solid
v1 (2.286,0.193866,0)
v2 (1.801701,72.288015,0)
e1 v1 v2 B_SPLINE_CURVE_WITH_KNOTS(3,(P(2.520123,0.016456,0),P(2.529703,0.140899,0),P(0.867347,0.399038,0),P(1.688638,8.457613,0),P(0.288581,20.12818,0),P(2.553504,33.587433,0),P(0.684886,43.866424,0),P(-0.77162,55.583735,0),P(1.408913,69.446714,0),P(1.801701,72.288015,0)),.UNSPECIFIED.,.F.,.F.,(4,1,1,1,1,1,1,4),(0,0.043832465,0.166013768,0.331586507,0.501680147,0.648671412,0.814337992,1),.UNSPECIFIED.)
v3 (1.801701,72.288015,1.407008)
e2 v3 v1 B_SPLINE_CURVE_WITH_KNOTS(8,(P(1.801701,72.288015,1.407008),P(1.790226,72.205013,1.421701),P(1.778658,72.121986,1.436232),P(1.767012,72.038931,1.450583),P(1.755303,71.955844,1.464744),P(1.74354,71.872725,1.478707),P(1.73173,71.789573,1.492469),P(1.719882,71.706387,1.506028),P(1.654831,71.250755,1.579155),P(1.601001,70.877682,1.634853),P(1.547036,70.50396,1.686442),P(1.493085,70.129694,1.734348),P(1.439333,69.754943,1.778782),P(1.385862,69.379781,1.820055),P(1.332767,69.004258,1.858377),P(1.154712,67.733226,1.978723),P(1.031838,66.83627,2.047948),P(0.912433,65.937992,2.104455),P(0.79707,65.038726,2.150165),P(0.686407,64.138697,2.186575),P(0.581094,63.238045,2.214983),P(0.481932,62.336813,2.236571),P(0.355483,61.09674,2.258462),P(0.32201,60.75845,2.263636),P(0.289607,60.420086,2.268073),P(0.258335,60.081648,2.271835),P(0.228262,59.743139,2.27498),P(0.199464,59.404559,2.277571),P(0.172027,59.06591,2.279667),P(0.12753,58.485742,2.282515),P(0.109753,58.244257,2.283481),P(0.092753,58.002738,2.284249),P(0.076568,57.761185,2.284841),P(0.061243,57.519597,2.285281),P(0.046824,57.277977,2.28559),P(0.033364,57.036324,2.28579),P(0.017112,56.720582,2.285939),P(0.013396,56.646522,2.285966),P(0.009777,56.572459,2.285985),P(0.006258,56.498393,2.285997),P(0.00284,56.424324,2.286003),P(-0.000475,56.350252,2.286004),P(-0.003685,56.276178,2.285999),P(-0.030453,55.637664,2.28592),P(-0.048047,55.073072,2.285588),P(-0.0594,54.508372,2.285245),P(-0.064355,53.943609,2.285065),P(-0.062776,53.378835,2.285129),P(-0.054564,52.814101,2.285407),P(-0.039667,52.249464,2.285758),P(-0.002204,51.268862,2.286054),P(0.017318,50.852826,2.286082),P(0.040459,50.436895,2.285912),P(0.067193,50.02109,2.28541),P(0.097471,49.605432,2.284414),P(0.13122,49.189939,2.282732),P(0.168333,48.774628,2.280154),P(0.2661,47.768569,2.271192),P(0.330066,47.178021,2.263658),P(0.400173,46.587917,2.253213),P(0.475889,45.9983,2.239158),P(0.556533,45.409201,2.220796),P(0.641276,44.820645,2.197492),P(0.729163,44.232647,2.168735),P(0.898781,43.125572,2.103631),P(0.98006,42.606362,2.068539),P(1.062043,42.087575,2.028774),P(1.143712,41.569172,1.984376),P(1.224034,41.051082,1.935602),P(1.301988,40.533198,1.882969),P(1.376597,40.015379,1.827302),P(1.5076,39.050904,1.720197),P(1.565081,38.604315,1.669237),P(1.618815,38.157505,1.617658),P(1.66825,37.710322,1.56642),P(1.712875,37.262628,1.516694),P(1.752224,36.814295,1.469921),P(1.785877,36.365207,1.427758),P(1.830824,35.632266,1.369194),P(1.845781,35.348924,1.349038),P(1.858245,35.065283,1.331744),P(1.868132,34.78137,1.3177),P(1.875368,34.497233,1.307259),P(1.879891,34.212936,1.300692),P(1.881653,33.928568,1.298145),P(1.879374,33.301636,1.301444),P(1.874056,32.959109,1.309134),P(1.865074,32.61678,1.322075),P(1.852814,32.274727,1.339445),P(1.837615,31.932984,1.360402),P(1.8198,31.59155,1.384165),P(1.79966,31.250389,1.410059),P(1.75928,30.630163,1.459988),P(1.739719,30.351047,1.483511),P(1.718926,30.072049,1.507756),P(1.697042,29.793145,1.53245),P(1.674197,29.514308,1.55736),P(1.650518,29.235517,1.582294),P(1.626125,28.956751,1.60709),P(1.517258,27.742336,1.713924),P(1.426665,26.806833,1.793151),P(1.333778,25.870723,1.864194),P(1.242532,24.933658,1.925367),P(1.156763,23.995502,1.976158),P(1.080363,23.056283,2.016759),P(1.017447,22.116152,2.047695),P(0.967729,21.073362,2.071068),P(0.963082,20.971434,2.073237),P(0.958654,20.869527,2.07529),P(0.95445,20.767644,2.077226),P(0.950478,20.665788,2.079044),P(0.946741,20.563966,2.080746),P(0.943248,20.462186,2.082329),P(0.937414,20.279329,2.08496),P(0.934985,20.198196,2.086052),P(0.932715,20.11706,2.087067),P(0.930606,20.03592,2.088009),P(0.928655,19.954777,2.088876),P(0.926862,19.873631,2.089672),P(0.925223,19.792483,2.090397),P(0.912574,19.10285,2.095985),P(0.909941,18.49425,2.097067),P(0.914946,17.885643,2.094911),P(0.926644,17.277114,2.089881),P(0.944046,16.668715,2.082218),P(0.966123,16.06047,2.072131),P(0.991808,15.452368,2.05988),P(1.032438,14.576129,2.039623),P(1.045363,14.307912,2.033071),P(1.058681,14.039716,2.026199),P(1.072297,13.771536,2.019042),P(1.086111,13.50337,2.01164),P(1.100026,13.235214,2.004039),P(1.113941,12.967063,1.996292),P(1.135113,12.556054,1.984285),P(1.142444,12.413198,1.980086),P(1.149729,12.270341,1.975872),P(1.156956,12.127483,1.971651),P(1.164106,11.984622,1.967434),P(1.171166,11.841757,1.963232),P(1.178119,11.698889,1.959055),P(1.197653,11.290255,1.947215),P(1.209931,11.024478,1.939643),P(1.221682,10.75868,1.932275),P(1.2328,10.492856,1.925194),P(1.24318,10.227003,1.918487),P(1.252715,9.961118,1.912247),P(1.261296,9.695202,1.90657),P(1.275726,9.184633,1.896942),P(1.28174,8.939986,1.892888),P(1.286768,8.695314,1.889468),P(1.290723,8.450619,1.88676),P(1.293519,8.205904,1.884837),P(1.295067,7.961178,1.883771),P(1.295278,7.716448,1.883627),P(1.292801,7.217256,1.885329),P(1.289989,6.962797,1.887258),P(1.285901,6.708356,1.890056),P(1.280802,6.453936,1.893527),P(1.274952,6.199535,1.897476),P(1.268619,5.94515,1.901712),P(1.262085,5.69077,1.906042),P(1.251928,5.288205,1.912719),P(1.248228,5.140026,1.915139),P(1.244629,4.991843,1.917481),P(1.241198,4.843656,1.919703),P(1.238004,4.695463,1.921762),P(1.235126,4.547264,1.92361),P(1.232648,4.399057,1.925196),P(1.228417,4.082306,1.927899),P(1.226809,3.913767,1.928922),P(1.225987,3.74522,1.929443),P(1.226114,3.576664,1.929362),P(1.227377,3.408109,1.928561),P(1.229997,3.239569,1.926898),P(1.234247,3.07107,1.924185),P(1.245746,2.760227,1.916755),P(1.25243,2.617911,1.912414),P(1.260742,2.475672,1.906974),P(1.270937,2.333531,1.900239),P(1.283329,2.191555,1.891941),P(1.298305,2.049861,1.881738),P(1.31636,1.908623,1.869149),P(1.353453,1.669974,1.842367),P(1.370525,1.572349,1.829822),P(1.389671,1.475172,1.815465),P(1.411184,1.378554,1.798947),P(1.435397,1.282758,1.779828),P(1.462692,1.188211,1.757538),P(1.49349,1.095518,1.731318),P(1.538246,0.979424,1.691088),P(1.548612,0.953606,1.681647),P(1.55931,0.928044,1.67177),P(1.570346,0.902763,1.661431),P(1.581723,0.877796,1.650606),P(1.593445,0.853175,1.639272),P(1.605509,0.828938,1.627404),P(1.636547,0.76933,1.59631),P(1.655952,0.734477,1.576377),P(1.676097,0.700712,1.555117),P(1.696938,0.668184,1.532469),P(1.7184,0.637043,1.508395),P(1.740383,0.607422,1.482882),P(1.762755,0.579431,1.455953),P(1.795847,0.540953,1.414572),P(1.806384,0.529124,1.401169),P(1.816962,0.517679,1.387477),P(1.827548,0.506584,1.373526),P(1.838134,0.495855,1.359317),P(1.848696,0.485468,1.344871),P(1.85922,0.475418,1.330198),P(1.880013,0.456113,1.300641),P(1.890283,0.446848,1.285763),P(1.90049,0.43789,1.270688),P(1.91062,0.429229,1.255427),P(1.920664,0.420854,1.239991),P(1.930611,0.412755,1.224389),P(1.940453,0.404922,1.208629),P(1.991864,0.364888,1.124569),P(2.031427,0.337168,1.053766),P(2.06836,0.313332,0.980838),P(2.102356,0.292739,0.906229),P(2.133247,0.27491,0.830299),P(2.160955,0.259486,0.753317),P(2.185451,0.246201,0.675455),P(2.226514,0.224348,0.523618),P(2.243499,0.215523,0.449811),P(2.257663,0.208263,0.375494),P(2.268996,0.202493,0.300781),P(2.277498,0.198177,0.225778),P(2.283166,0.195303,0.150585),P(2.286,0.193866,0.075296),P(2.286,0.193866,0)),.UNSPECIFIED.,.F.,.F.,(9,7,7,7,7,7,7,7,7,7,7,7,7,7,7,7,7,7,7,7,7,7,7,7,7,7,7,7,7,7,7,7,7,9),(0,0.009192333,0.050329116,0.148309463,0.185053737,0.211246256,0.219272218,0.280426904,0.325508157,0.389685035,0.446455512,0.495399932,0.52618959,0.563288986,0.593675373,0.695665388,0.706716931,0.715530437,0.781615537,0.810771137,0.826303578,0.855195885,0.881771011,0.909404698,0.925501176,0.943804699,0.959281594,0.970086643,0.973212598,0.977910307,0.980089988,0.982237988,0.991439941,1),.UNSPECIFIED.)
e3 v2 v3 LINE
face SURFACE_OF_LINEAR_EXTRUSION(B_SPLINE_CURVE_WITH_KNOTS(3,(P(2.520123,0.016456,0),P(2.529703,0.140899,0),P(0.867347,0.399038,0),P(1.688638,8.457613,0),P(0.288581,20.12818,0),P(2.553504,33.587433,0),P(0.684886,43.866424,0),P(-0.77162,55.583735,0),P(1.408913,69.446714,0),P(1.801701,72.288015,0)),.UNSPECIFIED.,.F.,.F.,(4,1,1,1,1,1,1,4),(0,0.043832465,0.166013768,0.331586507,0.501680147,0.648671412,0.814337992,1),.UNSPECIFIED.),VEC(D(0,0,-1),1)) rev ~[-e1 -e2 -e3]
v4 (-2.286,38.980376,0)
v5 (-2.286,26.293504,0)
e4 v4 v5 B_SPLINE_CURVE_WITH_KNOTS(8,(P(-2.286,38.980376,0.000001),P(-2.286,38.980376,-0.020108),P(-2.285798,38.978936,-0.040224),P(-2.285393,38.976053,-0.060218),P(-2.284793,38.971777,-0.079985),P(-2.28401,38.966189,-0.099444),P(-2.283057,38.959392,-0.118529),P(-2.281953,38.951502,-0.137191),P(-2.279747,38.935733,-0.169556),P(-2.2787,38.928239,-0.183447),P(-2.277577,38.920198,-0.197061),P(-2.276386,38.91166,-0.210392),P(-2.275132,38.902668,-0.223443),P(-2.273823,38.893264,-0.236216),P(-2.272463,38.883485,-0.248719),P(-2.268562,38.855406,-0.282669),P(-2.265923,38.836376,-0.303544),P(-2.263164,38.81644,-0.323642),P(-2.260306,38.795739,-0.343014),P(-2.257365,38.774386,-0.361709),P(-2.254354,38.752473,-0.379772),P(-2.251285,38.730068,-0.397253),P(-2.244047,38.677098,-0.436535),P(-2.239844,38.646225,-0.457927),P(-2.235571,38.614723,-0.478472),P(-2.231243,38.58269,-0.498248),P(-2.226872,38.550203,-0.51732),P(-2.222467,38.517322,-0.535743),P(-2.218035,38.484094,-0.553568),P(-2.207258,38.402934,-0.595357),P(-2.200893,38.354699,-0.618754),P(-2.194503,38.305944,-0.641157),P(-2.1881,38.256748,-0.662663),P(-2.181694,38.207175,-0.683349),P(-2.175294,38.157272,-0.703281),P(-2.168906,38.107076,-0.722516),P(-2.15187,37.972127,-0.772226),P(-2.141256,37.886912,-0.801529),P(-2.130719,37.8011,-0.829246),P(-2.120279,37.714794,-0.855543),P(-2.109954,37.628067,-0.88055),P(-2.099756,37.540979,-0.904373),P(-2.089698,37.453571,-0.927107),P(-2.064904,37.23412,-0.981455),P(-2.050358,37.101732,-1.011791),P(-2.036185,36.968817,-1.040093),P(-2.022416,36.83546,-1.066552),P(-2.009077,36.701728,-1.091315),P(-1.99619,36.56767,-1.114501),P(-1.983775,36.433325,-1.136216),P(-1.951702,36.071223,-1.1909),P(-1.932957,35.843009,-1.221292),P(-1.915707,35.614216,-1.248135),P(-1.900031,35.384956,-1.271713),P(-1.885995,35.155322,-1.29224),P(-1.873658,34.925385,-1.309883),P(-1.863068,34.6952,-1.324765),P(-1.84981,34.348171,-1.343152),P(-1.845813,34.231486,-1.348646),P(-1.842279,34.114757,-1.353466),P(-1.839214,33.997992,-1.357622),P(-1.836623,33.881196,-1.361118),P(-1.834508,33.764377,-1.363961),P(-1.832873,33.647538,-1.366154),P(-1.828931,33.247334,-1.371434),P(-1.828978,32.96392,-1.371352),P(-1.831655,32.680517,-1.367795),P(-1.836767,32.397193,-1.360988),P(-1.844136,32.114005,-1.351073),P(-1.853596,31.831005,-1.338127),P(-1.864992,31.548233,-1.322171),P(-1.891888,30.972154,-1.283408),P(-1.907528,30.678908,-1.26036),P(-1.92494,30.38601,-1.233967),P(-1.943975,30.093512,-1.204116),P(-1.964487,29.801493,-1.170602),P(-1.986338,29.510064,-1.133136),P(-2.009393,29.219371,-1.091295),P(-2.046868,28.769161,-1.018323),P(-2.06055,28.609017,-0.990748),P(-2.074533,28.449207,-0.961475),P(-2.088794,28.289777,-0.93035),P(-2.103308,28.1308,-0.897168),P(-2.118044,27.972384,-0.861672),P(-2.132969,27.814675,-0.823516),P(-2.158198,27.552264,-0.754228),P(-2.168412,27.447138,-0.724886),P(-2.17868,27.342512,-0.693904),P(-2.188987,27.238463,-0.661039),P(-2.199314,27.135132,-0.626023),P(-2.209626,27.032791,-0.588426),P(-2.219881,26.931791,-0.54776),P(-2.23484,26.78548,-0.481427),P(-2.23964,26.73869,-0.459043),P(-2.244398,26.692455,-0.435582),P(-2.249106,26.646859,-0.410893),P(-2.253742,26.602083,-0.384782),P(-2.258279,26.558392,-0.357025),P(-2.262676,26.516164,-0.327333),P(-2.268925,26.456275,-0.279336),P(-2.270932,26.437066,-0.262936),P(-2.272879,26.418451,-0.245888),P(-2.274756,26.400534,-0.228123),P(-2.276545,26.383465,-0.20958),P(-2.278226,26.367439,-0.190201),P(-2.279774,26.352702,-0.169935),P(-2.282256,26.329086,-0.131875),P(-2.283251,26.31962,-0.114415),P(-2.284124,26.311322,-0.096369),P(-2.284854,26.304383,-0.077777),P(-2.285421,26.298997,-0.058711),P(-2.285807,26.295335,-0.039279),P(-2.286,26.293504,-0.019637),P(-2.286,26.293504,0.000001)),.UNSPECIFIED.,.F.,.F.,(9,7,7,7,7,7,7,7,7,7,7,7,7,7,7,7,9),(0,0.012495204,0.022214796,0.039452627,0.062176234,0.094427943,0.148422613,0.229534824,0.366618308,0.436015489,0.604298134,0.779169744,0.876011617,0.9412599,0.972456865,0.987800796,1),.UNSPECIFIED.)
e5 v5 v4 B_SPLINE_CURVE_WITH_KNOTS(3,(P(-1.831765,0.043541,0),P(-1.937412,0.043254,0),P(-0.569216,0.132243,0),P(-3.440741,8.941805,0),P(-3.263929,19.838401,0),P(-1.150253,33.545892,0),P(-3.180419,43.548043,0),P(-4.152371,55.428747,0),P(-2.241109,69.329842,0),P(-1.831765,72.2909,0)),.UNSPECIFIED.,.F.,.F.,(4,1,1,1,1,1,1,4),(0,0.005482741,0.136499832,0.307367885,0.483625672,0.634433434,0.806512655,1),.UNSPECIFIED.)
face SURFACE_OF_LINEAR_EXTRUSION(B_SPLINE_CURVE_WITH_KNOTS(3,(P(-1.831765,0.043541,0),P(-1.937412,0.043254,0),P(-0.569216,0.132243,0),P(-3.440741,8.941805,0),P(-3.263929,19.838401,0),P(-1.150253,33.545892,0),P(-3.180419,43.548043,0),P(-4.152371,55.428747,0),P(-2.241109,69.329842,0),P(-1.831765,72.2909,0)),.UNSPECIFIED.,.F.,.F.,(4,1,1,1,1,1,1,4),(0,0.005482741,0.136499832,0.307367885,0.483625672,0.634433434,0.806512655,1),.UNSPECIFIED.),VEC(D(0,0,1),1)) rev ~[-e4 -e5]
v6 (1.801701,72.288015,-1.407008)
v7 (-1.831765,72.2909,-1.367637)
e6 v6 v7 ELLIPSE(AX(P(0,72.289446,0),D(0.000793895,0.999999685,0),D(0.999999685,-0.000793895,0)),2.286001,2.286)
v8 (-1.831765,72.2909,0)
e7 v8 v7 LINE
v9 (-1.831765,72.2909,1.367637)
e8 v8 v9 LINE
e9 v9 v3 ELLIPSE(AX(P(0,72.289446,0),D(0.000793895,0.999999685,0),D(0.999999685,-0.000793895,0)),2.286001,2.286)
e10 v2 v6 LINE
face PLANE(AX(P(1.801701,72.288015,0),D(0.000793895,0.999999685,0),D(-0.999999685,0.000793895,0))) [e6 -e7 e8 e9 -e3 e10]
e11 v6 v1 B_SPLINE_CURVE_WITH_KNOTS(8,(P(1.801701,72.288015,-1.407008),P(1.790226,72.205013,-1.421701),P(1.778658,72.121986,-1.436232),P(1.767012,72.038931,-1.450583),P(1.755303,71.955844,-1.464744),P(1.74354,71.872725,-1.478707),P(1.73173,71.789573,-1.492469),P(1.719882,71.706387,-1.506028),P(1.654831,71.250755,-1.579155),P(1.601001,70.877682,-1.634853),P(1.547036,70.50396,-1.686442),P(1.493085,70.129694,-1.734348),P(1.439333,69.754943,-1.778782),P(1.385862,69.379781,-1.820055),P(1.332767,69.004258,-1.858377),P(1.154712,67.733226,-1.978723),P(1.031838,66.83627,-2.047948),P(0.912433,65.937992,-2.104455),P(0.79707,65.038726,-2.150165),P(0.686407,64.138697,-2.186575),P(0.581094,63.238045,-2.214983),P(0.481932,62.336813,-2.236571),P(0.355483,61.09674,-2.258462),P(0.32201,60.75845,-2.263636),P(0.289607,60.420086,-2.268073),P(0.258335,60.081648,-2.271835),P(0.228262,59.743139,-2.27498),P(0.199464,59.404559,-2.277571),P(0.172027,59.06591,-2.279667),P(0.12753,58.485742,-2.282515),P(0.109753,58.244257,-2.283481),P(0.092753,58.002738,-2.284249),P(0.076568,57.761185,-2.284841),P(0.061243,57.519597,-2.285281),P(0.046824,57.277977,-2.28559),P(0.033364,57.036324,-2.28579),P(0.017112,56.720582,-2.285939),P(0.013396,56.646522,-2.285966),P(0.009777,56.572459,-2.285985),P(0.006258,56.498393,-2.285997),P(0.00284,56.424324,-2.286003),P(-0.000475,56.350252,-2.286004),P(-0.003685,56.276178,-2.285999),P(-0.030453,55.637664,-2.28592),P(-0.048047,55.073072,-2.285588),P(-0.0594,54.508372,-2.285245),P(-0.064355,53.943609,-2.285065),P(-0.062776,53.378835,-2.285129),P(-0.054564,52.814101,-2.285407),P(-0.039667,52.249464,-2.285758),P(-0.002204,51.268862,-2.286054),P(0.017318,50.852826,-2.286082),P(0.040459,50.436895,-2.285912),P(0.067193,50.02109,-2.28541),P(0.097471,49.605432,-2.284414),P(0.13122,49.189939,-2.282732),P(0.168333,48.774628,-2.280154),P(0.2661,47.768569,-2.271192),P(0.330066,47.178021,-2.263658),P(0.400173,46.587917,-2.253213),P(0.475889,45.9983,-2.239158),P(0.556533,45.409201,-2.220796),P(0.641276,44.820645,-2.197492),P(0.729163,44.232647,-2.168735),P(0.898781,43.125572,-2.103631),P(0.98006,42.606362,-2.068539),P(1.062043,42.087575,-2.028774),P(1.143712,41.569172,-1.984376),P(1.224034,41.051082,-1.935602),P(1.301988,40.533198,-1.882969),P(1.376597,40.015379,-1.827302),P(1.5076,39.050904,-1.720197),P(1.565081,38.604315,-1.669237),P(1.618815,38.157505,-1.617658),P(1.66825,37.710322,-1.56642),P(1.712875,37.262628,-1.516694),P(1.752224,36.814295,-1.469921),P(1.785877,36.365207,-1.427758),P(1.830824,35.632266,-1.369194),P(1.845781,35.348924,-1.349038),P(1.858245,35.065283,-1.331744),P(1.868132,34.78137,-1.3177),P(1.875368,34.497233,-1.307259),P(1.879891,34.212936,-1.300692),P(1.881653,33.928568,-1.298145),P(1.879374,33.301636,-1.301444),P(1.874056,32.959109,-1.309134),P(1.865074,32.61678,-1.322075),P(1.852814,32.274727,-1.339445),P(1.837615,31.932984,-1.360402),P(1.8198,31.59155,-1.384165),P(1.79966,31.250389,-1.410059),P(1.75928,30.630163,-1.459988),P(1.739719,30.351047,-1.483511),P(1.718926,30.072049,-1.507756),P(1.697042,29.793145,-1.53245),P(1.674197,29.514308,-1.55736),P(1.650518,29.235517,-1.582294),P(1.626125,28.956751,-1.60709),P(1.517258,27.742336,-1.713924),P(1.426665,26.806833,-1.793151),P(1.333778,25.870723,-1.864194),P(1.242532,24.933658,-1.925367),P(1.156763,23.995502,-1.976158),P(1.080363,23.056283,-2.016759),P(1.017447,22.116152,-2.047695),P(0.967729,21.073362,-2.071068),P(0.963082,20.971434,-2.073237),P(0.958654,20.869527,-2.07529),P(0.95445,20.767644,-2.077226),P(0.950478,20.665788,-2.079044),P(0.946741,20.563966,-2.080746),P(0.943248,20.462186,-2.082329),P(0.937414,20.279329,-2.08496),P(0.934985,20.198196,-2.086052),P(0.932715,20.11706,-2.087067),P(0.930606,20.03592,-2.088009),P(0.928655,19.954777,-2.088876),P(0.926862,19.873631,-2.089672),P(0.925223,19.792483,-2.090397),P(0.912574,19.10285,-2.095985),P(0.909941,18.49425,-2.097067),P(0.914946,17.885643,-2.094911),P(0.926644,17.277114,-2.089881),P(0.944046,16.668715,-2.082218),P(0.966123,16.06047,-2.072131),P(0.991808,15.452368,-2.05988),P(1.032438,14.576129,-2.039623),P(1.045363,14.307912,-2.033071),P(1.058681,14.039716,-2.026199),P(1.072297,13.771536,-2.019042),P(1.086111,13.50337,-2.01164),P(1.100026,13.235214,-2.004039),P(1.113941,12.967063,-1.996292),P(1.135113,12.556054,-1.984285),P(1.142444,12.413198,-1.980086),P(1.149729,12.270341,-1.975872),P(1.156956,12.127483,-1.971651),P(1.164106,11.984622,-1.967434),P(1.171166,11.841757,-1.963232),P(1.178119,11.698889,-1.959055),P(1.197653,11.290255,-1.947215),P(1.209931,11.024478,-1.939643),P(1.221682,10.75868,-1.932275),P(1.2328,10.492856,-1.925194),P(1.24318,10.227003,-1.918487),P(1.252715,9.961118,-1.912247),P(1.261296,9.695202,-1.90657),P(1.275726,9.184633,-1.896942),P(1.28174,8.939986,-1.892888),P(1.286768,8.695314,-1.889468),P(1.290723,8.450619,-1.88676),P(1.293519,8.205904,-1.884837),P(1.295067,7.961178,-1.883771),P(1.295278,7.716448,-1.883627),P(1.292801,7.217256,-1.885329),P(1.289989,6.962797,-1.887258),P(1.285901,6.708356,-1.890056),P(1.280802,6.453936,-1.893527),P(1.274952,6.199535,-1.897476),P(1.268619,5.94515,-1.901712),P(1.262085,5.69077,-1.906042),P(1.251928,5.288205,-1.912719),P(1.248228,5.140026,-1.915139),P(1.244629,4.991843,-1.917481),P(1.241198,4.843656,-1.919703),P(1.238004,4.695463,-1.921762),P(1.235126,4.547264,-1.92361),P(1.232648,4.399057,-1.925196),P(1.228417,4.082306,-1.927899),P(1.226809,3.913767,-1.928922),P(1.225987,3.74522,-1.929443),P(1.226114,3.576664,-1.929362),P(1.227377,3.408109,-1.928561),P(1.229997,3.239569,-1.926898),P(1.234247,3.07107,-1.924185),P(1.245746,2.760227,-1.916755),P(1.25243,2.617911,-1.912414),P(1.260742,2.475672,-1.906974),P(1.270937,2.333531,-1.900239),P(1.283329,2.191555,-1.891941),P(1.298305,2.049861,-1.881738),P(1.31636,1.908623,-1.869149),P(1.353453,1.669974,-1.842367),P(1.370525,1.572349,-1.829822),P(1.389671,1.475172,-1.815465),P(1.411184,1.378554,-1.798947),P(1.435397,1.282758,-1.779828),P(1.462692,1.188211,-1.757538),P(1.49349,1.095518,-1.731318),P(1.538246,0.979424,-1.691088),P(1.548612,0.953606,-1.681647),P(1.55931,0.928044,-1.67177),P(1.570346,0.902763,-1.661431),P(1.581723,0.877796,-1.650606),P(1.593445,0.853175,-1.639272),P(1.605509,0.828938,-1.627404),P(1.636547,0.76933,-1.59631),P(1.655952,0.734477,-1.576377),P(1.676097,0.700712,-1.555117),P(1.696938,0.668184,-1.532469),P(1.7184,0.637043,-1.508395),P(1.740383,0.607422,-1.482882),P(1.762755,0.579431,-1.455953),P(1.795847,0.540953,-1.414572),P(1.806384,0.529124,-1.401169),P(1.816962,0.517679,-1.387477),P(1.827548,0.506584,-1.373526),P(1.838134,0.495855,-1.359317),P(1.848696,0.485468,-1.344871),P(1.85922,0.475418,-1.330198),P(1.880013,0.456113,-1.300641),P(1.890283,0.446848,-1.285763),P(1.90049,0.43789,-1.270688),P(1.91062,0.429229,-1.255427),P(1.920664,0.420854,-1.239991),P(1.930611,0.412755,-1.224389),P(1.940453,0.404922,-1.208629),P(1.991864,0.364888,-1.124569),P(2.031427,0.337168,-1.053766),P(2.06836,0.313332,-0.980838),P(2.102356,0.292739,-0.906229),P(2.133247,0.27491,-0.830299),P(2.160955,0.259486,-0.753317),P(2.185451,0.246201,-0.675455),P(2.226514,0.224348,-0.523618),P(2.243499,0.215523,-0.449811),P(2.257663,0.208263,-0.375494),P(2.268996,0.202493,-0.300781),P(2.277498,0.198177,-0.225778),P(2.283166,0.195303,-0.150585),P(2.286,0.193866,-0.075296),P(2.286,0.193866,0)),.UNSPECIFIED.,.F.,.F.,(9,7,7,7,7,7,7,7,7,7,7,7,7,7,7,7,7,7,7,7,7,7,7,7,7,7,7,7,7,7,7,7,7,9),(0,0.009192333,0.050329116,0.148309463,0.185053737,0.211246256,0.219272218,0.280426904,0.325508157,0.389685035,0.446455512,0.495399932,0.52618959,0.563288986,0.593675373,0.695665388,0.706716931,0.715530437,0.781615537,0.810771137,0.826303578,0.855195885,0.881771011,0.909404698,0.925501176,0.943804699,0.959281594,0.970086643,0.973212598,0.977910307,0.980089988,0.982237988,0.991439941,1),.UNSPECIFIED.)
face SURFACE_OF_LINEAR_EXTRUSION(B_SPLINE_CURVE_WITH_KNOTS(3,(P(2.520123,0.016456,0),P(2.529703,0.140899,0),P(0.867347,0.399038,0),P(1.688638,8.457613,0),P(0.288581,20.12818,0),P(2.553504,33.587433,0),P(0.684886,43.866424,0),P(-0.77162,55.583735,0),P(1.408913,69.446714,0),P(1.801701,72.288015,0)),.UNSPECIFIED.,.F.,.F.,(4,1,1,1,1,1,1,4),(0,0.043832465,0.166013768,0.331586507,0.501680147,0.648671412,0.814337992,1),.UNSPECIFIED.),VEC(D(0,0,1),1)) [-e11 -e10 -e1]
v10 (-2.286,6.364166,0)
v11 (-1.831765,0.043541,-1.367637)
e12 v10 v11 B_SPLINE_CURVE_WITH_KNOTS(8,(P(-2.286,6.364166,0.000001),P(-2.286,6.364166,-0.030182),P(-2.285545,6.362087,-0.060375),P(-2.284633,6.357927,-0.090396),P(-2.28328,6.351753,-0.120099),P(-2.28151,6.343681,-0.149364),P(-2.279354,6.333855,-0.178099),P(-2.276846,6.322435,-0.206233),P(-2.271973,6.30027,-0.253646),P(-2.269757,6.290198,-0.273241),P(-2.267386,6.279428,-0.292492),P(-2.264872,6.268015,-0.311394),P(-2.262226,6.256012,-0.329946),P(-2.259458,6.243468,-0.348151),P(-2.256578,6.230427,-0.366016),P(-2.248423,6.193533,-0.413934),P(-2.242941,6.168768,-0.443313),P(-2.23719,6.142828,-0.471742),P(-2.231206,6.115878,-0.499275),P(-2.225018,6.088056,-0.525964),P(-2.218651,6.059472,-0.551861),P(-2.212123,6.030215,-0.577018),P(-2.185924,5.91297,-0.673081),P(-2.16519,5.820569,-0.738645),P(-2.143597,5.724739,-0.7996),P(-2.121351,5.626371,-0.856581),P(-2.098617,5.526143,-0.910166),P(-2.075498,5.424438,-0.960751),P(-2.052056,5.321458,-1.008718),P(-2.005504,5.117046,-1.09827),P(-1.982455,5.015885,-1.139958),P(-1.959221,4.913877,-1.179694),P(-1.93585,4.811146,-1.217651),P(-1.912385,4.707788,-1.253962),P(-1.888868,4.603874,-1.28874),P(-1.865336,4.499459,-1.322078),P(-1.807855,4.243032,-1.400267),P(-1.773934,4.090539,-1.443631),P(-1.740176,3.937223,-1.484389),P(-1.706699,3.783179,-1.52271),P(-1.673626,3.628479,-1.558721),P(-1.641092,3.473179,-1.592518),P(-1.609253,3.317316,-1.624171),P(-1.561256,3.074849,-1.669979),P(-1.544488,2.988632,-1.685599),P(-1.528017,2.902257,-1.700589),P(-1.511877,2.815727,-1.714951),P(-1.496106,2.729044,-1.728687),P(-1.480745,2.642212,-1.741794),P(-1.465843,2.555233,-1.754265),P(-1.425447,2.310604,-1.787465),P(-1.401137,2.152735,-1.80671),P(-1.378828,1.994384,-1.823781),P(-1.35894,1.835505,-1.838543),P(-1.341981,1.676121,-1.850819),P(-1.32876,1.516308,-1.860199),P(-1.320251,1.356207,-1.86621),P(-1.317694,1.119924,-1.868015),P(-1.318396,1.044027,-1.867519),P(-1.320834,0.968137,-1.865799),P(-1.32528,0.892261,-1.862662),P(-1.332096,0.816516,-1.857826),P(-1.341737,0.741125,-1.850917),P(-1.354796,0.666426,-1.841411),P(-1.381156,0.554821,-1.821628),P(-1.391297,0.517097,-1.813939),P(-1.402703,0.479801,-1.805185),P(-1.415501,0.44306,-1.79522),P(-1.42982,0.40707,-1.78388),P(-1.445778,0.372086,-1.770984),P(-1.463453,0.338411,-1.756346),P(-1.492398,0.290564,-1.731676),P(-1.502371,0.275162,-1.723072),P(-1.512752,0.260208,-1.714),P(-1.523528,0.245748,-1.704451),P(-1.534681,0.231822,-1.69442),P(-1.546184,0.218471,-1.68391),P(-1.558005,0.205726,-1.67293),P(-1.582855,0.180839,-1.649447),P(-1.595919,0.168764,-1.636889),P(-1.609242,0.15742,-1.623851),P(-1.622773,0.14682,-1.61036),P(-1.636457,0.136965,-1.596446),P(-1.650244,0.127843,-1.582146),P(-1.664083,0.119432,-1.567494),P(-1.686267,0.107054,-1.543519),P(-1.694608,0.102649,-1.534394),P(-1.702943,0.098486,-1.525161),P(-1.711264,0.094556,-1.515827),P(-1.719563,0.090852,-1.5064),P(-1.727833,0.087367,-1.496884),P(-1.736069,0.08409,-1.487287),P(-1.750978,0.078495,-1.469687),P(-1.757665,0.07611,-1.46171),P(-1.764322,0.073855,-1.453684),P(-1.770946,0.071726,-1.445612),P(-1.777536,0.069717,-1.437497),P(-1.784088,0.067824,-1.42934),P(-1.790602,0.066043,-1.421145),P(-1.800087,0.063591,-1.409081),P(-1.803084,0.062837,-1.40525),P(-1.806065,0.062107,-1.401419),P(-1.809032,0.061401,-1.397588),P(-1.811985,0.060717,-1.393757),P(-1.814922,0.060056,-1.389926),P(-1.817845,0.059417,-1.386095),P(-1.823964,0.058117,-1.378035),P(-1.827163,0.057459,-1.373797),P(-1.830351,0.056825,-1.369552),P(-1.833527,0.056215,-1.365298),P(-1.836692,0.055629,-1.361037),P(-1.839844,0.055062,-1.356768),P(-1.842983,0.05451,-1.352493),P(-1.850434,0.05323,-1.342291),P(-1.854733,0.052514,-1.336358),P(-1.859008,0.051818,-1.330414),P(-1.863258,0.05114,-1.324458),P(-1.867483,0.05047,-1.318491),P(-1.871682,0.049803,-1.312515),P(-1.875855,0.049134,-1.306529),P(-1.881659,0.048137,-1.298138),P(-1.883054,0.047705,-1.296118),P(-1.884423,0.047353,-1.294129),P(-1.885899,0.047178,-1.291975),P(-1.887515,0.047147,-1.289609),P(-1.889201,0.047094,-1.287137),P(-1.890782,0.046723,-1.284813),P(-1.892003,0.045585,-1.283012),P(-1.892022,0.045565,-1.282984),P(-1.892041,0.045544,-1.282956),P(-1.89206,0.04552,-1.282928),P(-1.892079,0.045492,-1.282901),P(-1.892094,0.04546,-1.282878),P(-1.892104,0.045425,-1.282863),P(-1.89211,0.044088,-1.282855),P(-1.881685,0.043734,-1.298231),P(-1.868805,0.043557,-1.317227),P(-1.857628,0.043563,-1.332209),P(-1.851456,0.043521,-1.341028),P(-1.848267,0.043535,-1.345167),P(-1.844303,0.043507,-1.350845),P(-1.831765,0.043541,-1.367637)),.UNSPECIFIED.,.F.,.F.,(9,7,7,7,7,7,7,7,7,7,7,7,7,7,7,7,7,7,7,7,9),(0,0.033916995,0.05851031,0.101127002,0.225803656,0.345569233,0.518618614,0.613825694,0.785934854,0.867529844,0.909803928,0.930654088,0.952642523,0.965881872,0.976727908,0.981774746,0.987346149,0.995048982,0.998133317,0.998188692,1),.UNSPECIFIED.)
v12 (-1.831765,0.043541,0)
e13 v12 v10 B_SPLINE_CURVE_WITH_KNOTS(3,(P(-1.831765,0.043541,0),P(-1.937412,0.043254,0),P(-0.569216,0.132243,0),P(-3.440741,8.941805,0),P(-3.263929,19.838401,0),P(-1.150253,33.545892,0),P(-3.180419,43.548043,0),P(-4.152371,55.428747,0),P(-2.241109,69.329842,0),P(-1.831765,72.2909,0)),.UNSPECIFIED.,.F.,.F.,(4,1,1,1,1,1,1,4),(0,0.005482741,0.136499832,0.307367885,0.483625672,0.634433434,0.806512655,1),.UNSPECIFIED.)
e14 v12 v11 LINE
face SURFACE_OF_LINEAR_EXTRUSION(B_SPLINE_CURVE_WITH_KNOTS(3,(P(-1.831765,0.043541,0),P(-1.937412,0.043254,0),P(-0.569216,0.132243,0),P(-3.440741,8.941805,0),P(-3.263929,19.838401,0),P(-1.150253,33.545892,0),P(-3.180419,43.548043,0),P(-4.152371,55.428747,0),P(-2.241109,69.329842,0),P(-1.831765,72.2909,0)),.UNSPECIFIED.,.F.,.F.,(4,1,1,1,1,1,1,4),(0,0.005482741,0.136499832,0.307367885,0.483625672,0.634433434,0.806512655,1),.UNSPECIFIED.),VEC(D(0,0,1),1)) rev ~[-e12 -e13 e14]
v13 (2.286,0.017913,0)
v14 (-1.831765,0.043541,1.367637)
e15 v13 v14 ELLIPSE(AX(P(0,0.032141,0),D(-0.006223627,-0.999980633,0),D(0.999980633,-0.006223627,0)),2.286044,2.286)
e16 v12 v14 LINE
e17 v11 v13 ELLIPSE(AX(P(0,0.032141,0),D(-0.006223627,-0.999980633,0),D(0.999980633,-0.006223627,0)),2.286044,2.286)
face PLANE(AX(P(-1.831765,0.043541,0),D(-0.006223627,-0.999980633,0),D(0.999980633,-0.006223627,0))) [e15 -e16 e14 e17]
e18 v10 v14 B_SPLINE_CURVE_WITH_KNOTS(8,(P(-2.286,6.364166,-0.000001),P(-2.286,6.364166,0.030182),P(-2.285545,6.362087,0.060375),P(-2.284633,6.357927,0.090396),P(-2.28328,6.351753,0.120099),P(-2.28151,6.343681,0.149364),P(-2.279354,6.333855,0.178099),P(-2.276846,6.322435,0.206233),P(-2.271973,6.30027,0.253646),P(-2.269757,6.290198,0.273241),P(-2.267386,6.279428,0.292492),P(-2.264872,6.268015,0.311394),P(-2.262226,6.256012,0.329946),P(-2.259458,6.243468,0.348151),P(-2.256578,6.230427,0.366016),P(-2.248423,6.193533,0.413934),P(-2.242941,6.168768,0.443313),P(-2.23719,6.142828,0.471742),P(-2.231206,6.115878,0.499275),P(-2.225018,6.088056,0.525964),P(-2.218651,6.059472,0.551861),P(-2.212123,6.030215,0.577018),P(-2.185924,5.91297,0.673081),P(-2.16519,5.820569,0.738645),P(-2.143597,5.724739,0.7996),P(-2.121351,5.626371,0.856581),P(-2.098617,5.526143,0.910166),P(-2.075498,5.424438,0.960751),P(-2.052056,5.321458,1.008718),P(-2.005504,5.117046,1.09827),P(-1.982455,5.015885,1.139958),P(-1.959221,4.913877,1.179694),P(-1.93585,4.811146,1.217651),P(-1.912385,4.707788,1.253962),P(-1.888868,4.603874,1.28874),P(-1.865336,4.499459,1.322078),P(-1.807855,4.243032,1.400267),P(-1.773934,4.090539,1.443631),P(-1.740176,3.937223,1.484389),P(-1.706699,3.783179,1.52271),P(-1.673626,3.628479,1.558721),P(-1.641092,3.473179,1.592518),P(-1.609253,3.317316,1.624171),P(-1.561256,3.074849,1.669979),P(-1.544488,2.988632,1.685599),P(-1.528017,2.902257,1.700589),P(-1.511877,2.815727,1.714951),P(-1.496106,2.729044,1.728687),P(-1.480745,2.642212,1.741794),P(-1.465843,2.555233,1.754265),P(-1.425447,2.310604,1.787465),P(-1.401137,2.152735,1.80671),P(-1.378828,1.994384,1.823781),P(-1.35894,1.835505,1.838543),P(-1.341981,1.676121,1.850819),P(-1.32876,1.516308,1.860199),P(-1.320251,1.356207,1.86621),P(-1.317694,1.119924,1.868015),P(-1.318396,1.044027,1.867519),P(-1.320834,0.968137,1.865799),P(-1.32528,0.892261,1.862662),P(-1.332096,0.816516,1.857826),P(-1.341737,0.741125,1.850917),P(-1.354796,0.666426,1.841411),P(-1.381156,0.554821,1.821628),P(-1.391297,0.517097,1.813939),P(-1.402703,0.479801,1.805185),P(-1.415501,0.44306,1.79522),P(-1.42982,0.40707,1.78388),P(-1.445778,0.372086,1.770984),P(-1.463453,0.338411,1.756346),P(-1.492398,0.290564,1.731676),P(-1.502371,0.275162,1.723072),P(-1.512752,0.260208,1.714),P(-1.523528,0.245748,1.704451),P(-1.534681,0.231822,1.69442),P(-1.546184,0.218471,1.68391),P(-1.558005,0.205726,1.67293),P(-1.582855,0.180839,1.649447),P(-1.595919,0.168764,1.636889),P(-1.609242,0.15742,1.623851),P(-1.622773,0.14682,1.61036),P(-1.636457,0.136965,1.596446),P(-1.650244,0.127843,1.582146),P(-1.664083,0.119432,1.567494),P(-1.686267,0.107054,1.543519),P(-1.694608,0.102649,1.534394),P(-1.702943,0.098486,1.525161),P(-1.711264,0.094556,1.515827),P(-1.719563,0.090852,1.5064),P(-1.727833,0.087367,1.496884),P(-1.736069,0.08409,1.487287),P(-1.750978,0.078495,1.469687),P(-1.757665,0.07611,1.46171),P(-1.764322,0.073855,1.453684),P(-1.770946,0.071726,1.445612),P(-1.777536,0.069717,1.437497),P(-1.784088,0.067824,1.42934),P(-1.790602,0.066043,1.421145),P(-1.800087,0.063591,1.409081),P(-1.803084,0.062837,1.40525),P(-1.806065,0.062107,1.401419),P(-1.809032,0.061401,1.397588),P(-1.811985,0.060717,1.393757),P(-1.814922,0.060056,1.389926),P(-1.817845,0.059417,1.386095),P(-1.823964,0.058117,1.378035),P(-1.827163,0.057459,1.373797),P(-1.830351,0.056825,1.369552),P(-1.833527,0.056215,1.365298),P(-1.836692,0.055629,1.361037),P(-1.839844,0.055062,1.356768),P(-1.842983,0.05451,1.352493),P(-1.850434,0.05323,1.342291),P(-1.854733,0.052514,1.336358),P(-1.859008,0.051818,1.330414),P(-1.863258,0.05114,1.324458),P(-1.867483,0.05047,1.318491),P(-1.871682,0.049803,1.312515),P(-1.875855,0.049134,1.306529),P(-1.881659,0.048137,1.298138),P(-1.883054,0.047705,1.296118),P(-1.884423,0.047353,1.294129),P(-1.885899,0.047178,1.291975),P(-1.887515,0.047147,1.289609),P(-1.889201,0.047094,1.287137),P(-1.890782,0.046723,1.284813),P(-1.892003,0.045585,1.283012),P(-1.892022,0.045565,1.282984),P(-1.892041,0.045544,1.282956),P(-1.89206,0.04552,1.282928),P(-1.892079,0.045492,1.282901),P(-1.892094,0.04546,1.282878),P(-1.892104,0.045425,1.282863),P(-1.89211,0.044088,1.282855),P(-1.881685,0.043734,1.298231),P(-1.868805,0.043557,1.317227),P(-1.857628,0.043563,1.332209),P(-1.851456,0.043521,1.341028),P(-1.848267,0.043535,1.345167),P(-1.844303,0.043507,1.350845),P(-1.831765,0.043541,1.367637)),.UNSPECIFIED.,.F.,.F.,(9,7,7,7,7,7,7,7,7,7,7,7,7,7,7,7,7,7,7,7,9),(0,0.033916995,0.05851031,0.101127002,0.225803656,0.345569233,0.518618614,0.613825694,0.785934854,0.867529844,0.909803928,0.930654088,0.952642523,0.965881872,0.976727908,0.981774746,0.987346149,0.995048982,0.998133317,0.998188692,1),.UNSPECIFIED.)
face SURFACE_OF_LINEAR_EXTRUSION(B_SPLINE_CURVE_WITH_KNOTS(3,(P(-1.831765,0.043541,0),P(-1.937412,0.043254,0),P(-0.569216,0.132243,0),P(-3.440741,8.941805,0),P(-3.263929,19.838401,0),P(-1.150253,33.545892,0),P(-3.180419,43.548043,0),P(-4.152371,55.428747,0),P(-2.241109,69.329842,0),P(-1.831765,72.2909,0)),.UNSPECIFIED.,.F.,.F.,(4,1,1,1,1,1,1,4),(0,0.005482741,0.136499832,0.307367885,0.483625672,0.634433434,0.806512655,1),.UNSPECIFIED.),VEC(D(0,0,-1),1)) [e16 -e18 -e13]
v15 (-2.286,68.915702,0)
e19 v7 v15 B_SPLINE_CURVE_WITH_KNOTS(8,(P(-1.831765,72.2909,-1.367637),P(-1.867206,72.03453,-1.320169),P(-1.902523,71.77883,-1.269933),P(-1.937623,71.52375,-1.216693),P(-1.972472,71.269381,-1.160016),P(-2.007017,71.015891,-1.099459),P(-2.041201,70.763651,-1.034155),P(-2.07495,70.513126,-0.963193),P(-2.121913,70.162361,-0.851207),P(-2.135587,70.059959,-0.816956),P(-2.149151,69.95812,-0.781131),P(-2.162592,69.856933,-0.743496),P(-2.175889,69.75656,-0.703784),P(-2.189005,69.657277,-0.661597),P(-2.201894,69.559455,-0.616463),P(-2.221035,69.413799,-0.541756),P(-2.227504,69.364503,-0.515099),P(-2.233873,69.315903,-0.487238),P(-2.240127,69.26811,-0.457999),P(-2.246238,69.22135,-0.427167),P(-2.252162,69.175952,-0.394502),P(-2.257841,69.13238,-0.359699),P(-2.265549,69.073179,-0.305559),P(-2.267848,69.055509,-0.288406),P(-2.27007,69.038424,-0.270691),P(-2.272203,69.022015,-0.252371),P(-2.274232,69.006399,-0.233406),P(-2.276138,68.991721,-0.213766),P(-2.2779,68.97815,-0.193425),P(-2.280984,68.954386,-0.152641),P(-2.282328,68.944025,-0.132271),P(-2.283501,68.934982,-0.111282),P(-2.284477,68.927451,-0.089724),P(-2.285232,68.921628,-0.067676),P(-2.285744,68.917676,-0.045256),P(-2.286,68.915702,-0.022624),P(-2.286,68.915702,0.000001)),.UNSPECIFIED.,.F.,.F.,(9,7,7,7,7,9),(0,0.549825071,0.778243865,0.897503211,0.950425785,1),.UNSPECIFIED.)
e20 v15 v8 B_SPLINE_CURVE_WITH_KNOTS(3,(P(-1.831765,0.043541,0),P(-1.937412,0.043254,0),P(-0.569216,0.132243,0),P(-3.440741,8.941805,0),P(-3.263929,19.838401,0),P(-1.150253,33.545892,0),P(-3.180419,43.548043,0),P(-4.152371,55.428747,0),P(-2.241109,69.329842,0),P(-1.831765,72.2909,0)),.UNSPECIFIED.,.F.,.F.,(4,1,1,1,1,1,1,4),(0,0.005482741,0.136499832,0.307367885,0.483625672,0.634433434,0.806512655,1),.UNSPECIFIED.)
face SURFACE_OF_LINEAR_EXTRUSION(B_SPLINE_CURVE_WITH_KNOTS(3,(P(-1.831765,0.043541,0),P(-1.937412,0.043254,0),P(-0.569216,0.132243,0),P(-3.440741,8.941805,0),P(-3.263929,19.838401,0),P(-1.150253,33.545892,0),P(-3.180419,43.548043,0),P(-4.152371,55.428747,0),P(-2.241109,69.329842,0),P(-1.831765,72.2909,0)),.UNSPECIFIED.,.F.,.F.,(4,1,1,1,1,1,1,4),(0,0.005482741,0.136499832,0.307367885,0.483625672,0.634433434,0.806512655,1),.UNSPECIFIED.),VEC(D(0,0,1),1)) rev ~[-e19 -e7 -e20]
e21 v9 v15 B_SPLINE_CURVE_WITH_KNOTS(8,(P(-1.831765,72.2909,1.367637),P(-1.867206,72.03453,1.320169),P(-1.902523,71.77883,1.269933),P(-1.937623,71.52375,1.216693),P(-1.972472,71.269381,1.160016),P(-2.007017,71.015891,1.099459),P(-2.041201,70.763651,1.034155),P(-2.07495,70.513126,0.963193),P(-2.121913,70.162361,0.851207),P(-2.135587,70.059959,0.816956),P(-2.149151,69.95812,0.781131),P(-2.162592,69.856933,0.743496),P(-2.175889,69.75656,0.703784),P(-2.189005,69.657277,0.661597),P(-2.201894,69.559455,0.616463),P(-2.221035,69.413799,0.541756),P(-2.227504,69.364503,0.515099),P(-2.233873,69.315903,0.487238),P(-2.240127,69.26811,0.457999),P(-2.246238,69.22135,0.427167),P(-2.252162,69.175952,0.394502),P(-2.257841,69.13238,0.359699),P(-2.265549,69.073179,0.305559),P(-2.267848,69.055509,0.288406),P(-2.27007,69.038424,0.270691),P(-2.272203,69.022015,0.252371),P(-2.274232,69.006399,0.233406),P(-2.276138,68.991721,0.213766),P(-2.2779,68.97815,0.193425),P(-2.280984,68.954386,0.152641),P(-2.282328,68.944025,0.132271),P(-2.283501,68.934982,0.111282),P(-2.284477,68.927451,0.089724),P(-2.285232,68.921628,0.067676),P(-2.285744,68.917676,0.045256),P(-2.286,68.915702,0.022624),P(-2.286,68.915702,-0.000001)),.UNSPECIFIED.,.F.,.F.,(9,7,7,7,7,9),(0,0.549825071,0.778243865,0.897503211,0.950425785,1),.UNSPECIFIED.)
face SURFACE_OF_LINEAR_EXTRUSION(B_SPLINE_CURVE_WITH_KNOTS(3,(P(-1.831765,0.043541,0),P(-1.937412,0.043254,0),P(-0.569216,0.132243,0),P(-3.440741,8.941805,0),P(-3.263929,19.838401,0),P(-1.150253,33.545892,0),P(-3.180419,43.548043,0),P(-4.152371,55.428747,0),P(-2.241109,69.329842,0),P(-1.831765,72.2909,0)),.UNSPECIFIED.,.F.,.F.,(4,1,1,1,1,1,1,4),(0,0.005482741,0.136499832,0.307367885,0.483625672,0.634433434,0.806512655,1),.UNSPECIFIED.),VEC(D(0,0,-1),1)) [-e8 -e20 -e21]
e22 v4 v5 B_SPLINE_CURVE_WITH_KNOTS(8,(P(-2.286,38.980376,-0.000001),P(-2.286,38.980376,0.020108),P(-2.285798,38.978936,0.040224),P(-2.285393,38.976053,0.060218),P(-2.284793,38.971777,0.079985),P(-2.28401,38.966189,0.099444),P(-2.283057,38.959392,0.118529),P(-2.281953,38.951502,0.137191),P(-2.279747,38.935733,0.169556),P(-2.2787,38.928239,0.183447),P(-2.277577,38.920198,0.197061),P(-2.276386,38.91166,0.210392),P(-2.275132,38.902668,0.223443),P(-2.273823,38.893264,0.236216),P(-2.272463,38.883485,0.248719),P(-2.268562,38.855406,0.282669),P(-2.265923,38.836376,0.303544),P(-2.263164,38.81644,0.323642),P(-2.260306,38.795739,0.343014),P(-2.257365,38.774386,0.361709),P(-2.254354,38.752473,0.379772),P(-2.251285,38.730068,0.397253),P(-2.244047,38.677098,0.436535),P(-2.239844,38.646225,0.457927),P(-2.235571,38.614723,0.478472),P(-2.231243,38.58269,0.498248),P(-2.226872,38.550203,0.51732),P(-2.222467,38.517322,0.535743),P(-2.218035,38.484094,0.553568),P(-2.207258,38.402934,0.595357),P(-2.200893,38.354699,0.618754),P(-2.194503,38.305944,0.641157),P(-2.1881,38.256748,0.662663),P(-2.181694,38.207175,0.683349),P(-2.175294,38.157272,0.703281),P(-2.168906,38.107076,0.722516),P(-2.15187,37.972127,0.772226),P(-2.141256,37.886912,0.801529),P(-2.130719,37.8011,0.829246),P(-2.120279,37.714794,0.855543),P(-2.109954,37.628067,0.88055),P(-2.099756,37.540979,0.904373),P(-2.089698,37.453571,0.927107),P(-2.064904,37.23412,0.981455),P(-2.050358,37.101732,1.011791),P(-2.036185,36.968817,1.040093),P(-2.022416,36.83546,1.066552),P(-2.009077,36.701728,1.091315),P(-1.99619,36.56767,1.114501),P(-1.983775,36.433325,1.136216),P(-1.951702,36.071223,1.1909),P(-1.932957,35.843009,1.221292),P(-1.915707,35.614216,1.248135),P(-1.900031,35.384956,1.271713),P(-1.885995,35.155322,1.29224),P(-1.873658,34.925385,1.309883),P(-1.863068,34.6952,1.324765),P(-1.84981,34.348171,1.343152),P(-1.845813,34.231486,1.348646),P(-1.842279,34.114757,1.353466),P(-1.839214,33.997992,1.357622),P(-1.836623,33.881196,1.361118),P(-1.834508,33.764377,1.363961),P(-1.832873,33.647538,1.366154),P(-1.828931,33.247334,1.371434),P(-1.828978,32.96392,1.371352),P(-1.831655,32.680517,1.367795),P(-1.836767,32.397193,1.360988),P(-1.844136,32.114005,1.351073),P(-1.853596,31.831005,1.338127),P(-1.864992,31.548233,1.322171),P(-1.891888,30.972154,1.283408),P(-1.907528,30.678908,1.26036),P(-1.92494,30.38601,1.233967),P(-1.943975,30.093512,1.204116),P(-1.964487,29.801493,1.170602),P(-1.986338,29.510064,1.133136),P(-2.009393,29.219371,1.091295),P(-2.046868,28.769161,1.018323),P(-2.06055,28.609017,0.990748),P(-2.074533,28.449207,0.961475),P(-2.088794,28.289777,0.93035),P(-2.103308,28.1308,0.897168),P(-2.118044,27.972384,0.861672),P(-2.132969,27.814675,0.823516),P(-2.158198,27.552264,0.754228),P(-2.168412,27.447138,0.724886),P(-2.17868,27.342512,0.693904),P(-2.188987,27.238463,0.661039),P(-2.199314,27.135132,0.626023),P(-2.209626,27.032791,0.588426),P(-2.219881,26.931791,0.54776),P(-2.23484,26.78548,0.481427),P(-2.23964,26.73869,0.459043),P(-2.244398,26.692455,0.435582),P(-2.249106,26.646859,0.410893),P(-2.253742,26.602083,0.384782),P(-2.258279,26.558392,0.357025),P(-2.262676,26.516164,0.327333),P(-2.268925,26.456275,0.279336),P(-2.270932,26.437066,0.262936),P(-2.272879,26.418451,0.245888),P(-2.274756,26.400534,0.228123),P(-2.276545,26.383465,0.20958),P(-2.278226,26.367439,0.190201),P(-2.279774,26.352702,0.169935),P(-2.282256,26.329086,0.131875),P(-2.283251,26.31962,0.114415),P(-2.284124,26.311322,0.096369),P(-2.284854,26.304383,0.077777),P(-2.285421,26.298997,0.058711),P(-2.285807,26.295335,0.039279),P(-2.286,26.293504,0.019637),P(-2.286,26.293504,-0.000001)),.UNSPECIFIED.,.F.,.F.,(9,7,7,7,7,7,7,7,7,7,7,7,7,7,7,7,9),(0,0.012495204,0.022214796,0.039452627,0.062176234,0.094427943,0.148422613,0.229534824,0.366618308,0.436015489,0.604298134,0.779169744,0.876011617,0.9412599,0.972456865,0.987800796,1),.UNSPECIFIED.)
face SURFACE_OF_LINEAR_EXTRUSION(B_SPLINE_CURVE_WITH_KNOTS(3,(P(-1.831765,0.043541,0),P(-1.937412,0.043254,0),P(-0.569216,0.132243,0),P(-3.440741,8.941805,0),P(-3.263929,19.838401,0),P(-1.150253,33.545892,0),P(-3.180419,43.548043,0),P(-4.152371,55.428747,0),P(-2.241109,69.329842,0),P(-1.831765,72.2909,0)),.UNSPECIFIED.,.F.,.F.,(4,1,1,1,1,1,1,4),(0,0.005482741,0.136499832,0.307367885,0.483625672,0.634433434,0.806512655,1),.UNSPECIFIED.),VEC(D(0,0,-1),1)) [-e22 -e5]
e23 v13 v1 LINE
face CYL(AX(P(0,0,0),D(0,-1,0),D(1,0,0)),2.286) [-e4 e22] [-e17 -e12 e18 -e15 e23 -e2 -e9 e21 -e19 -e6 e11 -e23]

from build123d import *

# Parameters (mm, degrees)
F0_W     = 8.9785000309
F0_H     = 6.8105924875
F0_R     = 2.54
F0_R_2   = 2.286
F2_DEPTH = 75.946
F3_DEPTH = 40.386
F4_DEPTH = 75.6412


with BuildPart() as f2:
    # F0 (on Front) → F2 (new body)
    with BuildSketch(Plane.XZ):
        Rectangle(F0_W, F0_H)
        Circle(F0_R, mode=Mode.SUBTRACT)
        Circle(F0_R)
        Circle(F0_R_2, mode=Mode.SUBTRACT)
        Circle(F0_R_2)
    extrude(amount=-F2_DEPTH)

    # F1 (on Top) → F3 (intersect, symmetric)
    with BuildSketch(Plane.XY):
        with BuildLine():
            Line((-1.8317651893, 0.0435411269), (2.520122789, 0.0164560742))
            add(Edge.make_bspline(
                [(2.520122789, 0.0164560742), (2.5297032871, 0.1408993781), (0.8673470661, 0.3990382019), (1.6886381329, 8.4576127608), (0.28858089, 20.1281801988), (2.5535041881, 33.587432946), (0.6848859482, 43.866423777), (-0.7716195957, 55.5837347125), (1.4089127321, 69.4467137876), (1.8017008072, 72.2880153117)],
                knots=[0, 0, 0, 0, 0.0438324652, 0.1660137682, 0.3315865074, 0.5016801474, 0.6486714124, 0.8143379922, 1, 1, 1, 1], degree=3))
            Line((1.8017008072, 72.2880153117), (-1.8317651893, 72.2908999042))
            add(Edge.make_bspline(
                [(-1.8317651893, 0.0435411269), (-1.9374120748, 0.0432543384), (-0.5692164818, 0.1322432639), (-3.4407410784, 8.9418047471), (-3.2639288918, 19.8384012688), (-1.1502526021, 33.5458924672), (-3.1804189205, 43.5480426506), (-4.1523708176, 55.4287468774), (-2.2411086126, 69.3298423618), (-1.8317651893, 72.2908999042)],
                knots=[0, 0, 0, 0, 0.0054827412, 0.1364998321, 0.3073678852, 0.4836256718, 0.6344334342, 0.8065126549, 1, 1, 1, 1], degree=3))
        make_face()
    extrude(amount=F3_DEPTH, both=True, mode=Mode.INTERSECT)

    # F0 (on Front) → F4 (intersect)
    with BuildSketch(Plane.XZ):
        Circle(F0_R_2)
    extrude(amount=-F4_DEPTH, mode=Mode.INTERSECT)


solid = f2.part
